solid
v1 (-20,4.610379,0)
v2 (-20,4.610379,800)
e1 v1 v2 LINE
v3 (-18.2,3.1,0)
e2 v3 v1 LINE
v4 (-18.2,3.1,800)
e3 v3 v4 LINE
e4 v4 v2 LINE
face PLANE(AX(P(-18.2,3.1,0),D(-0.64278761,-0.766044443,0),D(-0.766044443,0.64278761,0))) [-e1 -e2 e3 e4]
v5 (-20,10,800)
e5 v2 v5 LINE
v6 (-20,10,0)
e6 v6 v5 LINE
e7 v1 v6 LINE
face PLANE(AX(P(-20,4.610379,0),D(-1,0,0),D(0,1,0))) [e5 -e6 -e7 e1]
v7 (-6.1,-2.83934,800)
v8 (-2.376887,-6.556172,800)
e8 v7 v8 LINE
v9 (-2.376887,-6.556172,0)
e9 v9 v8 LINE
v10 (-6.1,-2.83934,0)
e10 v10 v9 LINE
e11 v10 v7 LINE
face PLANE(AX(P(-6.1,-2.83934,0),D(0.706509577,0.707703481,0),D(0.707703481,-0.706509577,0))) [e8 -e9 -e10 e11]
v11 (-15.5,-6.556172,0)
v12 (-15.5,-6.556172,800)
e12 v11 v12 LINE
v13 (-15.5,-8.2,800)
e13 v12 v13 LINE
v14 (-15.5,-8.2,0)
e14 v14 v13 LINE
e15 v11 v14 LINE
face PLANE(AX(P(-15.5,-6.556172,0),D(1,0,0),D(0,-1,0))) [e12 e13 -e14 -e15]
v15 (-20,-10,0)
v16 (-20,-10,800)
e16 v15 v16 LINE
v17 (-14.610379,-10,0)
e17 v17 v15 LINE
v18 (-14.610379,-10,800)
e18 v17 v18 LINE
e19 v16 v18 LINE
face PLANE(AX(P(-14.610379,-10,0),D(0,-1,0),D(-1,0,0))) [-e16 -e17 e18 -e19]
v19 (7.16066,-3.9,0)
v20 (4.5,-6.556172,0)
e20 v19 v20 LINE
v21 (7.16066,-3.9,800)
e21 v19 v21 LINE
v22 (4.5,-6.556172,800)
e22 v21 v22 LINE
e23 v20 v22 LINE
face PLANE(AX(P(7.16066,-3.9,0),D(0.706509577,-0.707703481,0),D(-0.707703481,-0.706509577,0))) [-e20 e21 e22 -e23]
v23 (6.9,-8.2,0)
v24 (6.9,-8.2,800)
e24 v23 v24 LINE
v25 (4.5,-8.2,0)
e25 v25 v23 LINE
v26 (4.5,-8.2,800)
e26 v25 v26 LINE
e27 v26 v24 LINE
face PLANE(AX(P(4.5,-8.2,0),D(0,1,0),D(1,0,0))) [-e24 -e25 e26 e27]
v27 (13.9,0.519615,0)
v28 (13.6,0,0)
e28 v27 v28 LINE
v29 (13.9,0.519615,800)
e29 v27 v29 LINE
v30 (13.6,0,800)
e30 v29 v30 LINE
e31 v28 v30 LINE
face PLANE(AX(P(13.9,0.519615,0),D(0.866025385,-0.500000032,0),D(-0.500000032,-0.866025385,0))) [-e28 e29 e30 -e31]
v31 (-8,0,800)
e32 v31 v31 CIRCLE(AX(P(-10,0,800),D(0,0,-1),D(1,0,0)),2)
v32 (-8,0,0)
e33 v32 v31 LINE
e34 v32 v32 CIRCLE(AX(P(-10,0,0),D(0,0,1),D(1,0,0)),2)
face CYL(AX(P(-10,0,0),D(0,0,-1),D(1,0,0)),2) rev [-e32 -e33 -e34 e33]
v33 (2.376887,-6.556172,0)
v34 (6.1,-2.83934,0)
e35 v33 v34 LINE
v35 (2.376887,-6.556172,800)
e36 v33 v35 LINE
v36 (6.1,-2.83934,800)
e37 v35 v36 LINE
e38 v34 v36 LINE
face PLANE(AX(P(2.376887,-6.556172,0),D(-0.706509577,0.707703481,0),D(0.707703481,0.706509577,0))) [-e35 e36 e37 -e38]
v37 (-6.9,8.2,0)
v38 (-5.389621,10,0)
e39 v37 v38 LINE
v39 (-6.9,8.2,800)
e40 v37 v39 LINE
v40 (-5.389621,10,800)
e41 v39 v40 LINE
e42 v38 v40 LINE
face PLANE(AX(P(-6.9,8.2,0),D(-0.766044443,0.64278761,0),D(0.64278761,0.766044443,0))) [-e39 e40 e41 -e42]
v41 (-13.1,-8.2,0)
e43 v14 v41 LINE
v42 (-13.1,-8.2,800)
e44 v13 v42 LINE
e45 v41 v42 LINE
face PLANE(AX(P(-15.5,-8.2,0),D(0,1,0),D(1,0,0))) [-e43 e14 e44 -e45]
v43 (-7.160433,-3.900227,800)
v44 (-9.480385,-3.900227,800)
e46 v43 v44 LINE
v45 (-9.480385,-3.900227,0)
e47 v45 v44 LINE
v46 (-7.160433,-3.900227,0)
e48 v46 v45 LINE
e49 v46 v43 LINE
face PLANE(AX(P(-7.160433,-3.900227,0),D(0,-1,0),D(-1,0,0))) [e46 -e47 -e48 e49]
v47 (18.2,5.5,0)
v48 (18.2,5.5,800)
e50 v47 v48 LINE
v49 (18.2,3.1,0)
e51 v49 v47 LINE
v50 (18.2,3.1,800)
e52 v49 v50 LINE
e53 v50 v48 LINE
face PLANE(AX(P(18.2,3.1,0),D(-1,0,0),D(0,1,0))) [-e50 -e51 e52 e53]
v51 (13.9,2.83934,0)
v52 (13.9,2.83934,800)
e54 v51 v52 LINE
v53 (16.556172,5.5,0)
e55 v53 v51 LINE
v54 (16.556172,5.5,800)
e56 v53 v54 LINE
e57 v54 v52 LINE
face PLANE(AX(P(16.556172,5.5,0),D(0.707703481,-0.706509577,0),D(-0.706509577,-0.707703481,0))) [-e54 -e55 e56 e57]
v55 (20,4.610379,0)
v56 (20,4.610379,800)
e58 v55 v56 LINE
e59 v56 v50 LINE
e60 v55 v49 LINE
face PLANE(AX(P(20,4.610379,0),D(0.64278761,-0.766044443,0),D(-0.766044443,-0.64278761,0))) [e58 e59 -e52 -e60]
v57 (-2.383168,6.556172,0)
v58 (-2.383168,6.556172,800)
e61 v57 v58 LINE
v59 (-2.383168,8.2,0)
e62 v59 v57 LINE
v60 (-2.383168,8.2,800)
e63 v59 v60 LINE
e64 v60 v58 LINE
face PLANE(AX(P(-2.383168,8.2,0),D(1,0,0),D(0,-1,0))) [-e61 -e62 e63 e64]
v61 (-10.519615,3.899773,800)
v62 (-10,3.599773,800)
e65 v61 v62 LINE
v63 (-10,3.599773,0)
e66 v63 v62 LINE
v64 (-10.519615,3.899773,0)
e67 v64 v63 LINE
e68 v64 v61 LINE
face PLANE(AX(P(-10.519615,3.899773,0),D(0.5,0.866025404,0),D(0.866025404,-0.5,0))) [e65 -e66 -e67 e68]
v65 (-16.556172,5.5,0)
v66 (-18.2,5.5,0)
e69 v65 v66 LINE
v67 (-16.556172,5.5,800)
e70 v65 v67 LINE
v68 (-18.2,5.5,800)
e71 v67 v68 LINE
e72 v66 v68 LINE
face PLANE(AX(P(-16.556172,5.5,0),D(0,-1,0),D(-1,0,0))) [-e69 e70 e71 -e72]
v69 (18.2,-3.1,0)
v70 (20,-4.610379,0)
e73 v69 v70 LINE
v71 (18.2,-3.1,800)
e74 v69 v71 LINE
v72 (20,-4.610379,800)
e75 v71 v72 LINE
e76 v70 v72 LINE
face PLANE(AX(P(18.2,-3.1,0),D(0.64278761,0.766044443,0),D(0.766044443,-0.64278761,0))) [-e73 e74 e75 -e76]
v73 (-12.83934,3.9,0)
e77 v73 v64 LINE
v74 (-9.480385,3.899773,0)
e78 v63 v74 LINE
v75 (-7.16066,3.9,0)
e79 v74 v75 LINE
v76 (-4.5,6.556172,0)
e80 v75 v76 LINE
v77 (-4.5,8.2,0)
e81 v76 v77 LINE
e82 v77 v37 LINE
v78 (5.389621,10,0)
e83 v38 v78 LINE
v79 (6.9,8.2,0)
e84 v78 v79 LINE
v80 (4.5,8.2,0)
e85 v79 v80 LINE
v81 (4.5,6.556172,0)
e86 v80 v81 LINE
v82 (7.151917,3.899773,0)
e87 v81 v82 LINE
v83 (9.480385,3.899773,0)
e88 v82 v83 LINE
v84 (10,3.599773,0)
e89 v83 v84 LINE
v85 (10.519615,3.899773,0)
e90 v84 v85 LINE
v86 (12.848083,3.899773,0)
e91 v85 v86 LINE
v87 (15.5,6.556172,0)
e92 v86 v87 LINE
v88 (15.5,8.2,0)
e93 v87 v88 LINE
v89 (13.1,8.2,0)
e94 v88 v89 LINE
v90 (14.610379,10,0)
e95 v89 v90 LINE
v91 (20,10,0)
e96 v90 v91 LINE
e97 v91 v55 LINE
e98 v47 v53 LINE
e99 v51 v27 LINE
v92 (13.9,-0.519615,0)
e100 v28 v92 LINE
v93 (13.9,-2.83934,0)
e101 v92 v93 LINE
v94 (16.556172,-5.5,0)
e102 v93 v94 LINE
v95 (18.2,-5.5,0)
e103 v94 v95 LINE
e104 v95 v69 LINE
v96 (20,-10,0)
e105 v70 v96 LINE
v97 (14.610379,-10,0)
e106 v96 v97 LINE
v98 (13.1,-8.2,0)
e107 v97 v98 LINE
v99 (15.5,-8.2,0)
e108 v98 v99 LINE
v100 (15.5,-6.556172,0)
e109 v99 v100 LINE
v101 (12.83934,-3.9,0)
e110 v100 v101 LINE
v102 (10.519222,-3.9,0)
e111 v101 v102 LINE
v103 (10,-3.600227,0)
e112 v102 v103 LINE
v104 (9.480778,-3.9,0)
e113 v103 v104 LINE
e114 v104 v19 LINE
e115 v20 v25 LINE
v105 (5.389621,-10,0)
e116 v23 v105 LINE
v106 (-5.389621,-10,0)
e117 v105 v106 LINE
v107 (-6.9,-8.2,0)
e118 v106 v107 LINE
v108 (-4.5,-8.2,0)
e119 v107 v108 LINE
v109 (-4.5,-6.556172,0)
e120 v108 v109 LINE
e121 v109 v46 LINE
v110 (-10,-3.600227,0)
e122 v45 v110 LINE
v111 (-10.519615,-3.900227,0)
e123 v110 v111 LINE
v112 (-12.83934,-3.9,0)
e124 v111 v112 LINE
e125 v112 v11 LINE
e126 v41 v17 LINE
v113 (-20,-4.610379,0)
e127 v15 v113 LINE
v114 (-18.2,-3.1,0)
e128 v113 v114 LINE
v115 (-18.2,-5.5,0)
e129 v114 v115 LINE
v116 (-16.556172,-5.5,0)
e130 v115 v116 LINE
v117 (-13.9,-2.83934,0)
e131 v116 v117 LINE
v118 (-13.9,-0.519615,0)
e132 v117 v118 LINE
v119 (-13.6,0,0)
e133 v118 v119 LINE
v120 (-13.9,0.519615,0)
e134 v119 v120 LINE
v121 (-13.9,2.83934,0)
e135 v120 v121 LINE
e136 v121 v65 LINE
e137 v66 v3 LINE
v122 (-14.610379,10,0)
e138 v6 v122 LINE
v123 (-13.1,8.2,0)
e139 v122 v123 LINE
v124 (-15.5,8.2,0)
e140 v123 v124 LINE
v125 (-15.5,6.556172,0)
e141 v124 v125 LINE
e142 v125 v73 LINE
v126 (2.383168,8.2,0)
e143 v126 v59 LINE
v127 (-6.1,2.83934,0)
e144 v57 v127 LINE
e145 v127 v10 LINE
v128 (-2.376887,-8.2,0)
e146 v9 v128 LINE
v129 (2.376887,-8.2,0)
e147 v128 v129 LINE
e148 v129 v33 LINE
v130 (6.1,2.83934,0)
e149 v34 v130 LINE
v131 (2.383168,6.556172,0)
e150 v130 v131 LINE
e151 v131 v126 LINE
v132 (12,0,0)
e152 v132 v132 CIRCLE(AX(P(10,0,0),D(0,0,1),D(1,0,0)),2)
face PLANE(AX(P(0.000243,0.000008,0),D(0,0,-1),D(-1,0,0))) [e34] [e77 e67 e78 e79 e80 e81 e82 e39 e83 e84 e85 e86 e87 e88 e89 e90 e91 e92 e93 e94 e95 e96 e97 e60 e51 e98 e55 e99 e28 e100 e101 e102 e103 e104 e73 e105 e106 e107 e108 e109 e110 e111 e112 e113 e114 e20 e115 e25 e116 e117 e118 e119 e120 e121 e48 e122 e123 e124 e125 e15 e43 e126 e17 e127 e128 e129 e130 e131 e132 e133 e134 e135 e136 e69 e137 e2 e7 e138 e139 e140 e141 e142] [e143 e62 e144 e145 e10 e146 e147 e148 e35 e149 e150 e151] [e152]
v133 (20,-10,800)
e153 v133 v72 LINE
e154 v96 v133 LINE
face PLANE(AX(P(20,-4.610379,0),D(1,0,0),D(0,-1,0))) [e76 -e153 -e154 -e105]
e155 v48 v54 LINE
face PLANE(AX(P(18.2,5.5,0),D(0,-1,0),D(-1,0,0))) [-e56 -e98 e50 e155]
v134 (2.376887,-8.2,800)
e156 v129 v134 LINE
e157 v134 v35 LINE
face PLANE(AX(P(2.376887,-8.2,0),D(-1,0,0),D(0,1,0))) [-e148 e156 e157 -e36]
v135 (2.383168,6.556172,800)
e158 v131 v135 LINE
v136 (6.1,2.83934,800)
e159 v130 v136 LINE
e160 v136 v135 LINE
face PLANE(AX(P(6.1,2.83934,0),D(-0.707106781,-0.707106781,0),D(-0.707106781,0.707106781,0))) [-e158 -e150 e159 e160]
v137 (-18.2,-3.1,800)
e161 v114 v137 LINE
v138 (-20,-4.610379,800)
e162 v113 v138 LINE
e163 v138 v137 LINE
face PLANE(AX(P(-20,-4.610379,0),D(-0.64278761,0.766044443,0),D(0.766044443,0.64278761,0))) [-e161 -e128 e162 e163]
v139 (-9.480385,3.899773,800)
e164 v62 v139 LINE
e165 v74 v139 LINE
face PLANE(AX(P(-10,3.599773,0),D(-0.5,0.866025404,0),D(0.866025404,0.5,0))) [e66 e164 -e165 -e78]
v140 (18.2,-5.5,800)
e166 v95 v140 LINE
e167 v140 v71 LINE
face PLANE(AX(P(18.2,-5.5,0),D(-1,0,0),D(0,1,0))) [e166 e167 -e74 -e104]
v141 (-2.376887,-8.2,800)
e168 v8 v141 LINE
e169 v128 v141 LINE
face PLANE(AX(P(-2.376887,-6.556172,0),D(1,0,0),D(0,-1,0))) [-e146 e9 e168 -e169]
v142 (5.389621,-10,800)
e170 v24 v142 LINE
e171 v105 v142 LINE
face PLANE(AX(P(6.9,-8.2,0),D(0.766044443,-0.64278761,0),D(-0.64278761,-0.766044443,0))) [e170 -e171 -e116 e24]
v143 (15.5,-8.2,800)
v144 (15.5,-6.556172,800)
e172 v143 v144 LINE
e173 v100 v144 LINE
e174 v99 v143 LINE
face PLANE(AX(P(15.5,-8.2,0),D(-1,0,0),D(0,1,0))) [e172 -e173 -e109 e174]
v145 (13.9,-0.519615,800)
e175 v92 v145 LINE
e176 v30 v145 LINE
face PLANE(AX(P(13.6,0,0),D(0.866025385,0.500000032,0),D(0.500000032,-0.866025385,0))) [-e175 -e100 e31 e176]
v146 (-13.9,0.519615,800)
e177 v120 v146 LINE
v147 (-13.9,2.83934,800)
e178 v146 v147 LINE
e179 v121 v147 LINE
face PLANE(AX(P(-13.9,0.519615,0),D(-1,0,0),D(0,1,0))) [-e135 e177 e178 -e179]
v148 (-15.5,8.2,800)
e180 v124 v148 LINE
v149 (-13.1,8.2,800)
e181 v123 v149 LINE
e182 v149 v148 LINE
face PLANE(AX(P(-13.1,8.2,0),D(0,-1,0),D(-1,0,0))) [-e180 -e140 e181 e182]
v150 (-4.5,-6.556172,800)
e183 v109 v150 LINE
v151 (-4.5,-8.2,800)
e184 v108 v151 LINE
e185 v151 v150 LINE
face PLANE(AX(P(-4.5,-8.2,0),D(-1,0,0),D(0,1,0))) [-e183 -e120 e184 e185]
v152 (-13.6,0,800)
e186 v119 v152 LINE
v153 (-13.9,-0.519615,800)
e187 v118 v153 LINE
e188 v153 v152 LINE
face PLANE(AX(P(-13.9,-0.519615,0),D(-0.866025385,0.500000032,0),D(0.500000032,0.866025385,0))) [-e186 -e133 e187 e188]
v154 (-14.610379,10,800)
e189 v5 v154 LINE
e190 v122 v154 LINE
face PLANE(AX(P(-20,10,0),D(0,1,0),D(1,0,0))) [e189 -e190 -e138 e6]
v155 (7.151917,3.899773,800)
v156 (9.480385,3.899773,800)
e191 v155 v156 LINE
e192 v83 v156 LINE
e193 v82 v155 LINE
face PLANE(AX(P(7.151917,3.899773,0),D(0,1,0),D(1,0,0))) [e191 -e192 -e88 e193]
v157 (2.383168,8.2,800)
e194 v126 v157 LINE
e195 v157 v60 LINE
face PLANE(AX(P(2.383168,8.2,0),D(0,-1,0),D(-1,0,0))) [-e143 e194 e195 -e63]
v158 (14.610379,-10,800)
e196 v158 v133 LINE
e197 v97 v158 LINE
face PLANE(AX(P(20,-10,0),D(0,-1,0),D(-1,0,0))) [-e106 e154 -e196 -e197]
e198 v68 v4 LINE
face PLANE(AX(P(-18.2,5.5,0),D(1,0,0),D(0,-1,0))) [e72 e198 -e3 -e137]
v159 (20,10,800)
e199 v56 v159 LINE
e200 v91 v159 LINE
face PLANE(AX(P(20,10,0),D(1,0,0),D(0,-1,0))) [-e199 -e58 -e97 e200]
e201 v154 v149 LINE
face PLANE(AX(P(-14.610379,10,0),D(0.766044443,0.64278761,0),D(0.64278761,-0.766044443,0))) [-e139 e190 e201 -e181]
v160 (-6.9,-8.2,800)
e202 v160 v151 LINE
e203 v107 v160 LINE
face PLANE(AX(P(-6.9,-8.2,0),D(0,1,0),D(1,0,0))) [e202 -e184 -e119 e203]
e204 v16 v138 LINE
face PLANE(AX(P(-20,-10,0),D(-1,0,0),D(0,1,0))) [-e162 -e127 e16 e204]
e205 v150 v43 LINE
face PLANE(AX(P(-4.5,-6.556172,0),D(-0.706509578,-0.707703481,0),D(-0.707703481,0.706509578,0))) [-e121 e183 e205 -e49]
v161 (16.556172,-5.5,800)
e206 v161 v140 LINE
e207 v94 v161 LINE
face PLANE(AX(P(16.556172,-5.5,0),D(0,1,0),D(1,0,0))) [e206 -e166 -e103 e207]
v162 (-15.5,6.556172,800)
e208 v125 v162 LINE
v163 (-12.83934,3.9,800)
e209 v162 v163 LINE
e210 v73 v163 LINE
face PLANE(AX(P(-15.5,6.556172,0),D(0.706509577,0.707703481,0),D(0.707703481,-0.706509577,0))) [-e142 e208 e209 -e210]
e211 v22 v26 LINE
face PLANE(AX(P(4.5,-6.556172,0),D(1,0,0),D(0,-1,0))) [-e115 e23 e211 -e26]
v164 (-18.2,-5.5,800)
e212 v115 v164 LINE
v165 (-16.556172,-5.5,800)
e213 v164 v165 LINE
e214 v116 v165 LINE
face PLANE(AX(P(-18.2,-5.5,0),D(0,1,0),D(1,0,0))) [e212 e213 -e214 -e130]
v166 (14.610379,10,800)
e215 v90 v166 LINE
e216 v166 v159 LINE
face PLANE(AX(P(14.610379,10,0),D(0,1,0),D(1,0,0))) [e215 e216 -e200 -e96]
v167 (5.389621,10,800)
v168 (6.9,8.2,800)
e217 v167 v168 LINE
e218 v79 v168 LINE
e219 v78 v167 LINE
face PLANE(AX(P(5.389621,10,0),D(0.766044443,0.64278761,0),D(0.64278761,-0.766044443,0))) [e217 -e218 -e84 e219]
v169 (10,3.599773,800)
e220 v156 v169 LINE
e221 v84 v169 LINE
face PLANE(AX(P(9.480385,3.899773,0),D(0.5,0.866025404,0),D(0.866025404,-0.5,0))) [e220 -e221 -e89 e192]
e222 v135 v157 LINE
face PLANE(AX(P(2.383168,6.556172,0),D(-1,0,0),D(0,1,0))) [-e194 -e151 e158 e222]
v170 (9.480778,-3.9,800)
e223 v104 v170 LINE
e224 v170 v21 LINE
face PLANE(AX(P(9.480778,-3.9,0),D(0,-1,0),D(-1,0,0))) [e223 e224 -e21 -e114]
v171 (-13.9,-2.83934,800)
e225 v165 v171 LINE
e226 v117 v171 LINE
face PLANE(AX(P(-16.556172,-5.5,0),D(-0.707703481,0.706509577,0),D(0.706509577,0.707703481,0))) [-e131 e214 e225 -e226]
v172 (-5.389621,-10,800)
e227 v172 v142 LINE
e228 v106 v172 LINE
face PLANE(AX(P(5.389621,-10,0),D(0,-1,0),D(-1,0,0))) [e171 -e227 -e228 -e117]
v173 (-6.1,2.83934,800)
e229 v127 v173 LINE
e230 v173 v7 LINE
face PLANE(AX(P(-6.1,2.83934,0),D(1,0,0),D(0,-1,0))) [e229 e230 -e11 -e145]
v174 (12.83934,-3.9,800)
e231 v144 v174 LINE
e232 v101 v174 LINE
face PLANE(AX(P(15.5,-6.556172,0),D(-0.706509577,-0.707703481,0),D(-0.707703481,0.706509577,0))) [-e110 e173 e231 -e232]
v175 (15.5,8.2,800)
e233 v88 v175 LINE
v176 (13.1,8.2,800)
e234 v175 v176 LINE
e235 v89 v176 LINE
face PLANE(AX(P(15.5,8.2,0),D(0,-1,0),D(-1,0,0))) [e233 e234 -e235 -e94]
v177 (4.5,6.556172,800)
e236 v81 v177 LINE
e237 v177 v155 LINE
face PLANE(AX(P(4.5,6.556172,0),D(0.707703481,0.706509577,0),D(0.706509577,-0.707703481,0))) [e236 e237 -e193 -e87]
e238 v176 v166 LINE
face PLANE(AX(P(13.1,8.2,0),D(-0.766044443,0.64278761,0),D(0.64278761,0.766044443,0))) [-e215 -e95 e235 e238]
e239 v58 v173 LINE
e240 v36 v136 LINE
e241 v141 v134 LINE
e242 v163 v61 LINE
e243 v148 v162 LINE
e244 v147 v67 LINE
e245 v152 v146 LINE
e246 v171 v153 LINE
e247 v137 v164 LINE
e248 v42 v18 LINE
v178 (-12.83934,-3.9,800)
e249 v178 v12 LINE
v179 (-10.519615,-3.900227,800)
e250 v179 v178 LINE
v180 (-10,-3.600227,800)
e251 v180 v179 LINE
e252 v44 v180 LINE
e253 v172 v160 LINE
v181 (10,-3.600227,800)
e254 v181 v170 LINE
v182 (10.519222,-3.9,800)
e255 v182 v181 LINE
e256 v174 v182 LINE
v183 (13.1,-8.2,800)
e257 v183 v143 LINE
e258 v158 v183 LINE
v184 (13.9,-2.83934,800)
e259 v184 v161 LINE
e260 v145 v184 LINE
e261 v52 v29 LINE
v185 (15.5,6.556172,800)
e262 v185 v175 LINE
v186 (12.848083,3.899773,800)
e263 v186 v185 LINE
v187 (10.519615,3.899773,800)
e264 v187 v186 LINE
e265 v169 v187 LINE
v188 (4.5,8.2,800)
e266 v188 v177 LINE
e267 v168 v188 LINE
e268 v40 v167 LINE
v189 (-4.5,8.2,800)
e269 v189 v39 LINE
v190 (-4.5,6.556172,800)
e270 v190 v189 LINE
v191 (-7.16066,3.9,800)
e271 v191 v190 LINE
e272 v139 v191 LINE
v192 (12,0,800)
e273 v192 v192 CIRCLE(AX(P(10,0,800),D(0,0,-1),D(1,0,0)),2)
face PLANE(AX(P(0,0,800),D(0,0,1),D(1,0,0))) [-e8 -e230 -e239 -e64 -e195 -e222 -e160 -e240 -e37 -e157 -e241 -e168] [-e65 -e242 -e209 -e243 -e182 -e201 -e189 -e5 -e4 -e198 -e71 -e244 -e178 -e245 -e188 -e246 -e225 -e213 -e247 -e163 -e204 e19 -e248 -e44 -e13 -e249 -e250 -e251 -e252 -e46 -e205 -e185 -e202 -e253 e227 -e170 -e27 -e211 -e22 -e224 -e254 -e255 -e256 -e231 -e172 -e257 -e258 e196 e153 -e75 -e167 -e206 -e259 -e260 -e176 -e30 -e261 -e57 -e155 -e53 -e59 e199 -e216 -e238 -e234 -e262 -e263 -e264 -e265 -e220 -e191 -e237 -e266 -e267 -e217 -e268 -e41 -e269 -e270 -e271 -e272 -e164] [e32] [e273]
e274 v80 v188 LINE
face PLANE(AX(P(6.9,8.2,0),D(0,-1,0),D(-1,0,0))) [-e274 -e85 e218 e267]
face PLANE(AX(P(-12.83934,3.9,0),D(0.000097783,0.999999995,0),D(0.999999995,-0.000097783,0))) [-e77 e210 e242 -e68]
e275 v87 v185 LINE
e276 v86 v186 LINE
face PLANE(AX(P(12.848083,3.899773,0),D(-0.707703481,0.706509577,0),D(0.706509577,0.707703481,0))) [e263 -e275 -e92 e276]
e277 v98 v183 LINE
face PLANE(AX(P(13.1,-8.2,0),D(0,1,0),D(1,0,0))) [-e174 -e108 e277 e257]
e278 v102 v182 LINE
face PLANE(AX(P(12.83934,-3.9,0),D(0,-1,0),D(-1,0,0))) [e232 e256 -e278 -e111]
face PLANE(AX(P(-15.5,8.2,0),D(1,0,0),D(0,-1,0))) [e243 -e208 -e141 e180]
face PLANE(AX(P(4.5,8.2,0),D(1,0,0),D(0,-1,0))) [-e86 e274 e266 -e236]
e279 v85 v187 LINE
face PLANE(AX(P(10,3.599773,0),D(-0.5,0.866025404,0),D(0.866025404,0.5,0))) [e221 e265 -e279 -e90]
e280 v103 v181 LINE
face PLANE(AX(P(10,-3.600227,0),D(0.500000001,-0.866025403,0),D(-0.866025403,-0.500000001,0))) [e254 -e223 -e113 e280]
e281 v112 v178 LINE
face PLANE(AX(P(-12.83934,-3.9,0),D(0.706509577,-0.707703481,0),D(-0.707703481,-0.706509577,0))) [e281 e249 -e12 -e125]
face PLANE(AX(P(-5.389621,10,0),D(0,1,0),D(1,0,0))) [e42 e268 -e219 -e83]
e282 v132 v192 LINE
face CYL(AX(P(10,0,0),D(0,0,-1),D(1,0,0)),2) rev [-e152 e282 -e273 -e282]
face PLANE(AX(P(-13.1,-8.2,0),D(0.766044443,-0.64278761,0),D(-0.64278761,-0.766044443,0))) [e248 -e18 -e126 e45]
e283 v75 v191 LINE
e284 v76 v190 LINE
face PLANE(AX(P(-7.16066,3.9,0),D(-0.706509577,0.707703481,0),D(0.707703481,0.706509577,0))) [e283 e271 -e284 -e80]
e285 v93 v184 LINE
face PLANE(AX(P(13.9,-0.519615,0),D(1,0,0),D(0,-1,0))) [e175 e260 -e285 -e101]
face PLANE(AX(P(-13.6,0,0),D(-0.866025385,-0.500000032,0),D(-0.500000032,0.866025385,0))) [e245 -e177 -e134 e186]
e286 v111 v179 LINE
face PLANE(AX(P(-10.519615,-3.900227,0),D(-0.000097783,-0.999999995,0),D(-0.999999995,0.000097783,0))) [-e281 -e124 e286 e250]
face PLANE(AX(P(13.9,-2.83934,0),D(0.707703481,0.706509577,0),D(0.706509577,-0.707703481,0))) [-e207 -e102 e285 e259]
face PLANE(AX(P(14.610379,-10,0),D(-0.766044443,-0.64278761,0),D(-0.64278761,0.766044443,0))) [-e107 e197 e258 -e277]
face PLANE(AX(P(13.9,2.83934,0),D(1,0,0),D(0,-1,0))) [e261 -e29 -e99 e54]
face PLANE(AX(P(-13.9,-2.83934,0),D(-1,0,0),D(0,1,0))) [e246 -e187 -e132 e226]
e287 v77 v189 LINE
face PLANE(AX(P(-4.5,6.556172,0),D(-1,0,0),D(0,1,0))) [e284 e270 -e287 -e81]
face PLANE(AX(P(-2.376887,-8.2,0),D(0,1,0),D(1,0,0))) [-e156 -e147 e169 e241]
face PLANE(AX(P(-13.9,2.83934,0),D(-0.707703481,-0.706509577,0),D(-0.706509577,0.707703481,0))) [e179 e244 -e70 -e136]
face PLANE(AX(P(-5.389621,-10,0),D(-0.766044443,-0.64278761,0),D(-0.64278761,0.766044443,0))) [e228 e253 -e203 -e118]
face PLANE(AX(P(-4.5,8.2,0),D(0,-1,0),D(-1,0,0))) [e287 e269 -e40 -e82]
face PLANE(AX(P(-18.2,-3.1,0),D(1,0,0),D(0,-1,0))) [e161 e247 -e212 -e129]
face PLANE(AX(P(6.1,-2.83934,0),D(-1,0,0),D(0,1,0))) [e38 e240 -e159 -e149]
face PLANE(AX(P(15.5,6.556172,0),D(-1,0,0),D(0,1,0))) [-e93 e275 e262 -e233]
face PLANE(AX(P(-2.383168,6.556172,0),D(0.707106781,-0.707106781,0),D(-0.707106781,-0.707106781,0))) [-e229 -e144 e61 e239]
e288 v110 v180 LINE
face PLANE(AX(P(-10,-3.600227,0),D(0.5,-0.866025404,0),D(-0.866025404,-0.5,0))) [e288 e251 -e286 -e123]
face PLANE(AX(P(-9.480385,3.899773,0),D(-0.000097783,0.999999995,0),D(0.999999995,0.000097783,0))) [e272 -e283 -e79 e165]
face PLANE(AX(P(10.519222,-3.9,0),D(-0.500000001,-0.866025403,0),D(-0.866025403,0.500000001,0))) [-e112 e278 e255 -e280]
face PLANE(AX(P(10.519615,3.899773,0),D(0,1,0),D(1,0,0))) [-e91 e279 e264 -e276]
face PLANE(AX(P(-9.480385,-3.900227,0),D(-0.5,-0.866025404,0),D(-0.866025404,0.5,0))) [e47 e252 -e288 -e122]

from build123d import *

# Parameters (mm, degrees)
SKETCH1_R           = 2
BOSS_EXTRUDE1_DEPTH = 1000
SKETCH2_W           = 40
SKETCH2_H           = 20
CUT_EXTRUDE1_DEPTH  = 200


with BuildPart() as part:
    # Sketch1 → Boss-Extrude1 (new body)
    with BuildSketch(Plane.XY):
        Polygon((-5.389620664, 10), (5.389620664, 10), (6.9, 8.2), (4.5, 8.2), (4.5, 6.556171609), (7.151917065, 3.899773171), (9.480384758, 3.899773171), (10, 3.599773171), (10.519615242, 3.899773171), (12.848082935, 3.899773171), (15.5, 6.556171609), (15.5, 8.2), (13.1, 8.2), (14.610379336, 10), (20, 10), (20, 4.610379336), (18.2, 3.1), (18.2, 5.5), (16.556171609, 5.5), (13.9, 2.839339828), (13.9, 0.519615231), (13.599999981, 0), (13.9, -0.519615231), (13.9, -2.839339828), (16.556171609, -5.5), (18.2, -5.5), (18.2, -3.1), (20, -4.610379336), (20, -10), (14.610379336, -10), (13.1, -8.2), (15.5, -8.2), (15.5, -6.556171609), (12.839339828, -3.9), (10.519222362, -3.9), (10, -3.600226829), (9.480777638, -3.9), (7.160660172, -3.9), (4.5, -6.556171609), (4.5, -8.2), (6.9, -8.2), (5.389620664, -10), (-5.389620664, -10), (-6.9, -8.2), (-4.5, -8.2), (-4.5, -6.556171609), (-7.160432959, -3.900226829), (-9.480384758, -3.900226829), (-10, -3.600226829), (-10.519615242, -3.900226829), (-12.839339828, -3.9), (-15.5, -6.556171609), (-15.5, -8.2), (-13.1, -8.2), (-14.610379336, -10), (-20, -10), (-20, -4.610379336), (-18.2, -3.1), (-18.2, -5.5), (-16.556171609, -5.5), (-13.9, -2.839339828), (-13.9, -0.519615231), (-13.599999981, 0), (-13.9, 0.519615231), (-13.9, 2.839339828), (-16.556171609, 5.5), (-18.2, 5.5), (-18.2, 3.1), (-20, 4.610379336), (-20, 10), (-14.610379336, 10), (-13.1, 8.2), (-15.5, 8.2), (-15.5, 6.556171609), (-12.839339828, 3.9), (-10.519615242, 3.899773171), (-10, 3.599773171), (-9.480384758, 3.899773171), (-7.160660172, 3.9), (-4.5, 6.556171609), (-4.5, 8.2), (-6.9, 8.2), align=None)
        with Locations((-10, 0)):
            Circle(SKETCH1_R, mode=Mode.SUBTRACT)
        with Locations((10, 0)):
            Circle(SKETCH1_R, mode=Mode.SUBTRACT)
        Polygon((-6.1, -2.839339828), (-2.376887287, -6.556171609), (-2.376887287, -8.2), (2.376887287, -8.2), (2.376887287, -6.556171609), (6.1, -2.839339828), (6.1, 2.839339828), (2.383168219, 6.556171609), (2.383168219, 8.2), (-2.383168219, 8.2), (-2.383168219, 6.556171609), (-6.1, 2.839339828), align=None, mode=Mode.SUBTRACT)
    extrude(amount=BOSS_EXTRUDE1_DEPTH)

    # Sketch2 → Cut-Extrude1 (cut)
    with BuildSketch(Plane.XY.offset(1000)):
        Rectangle(SKETCH2_W, SKETCH2_H)
    extrude(amount=-CUT_EXTRUDE1_DEPTH, mode=Mode.SUBTRACT)


solid = part.part
